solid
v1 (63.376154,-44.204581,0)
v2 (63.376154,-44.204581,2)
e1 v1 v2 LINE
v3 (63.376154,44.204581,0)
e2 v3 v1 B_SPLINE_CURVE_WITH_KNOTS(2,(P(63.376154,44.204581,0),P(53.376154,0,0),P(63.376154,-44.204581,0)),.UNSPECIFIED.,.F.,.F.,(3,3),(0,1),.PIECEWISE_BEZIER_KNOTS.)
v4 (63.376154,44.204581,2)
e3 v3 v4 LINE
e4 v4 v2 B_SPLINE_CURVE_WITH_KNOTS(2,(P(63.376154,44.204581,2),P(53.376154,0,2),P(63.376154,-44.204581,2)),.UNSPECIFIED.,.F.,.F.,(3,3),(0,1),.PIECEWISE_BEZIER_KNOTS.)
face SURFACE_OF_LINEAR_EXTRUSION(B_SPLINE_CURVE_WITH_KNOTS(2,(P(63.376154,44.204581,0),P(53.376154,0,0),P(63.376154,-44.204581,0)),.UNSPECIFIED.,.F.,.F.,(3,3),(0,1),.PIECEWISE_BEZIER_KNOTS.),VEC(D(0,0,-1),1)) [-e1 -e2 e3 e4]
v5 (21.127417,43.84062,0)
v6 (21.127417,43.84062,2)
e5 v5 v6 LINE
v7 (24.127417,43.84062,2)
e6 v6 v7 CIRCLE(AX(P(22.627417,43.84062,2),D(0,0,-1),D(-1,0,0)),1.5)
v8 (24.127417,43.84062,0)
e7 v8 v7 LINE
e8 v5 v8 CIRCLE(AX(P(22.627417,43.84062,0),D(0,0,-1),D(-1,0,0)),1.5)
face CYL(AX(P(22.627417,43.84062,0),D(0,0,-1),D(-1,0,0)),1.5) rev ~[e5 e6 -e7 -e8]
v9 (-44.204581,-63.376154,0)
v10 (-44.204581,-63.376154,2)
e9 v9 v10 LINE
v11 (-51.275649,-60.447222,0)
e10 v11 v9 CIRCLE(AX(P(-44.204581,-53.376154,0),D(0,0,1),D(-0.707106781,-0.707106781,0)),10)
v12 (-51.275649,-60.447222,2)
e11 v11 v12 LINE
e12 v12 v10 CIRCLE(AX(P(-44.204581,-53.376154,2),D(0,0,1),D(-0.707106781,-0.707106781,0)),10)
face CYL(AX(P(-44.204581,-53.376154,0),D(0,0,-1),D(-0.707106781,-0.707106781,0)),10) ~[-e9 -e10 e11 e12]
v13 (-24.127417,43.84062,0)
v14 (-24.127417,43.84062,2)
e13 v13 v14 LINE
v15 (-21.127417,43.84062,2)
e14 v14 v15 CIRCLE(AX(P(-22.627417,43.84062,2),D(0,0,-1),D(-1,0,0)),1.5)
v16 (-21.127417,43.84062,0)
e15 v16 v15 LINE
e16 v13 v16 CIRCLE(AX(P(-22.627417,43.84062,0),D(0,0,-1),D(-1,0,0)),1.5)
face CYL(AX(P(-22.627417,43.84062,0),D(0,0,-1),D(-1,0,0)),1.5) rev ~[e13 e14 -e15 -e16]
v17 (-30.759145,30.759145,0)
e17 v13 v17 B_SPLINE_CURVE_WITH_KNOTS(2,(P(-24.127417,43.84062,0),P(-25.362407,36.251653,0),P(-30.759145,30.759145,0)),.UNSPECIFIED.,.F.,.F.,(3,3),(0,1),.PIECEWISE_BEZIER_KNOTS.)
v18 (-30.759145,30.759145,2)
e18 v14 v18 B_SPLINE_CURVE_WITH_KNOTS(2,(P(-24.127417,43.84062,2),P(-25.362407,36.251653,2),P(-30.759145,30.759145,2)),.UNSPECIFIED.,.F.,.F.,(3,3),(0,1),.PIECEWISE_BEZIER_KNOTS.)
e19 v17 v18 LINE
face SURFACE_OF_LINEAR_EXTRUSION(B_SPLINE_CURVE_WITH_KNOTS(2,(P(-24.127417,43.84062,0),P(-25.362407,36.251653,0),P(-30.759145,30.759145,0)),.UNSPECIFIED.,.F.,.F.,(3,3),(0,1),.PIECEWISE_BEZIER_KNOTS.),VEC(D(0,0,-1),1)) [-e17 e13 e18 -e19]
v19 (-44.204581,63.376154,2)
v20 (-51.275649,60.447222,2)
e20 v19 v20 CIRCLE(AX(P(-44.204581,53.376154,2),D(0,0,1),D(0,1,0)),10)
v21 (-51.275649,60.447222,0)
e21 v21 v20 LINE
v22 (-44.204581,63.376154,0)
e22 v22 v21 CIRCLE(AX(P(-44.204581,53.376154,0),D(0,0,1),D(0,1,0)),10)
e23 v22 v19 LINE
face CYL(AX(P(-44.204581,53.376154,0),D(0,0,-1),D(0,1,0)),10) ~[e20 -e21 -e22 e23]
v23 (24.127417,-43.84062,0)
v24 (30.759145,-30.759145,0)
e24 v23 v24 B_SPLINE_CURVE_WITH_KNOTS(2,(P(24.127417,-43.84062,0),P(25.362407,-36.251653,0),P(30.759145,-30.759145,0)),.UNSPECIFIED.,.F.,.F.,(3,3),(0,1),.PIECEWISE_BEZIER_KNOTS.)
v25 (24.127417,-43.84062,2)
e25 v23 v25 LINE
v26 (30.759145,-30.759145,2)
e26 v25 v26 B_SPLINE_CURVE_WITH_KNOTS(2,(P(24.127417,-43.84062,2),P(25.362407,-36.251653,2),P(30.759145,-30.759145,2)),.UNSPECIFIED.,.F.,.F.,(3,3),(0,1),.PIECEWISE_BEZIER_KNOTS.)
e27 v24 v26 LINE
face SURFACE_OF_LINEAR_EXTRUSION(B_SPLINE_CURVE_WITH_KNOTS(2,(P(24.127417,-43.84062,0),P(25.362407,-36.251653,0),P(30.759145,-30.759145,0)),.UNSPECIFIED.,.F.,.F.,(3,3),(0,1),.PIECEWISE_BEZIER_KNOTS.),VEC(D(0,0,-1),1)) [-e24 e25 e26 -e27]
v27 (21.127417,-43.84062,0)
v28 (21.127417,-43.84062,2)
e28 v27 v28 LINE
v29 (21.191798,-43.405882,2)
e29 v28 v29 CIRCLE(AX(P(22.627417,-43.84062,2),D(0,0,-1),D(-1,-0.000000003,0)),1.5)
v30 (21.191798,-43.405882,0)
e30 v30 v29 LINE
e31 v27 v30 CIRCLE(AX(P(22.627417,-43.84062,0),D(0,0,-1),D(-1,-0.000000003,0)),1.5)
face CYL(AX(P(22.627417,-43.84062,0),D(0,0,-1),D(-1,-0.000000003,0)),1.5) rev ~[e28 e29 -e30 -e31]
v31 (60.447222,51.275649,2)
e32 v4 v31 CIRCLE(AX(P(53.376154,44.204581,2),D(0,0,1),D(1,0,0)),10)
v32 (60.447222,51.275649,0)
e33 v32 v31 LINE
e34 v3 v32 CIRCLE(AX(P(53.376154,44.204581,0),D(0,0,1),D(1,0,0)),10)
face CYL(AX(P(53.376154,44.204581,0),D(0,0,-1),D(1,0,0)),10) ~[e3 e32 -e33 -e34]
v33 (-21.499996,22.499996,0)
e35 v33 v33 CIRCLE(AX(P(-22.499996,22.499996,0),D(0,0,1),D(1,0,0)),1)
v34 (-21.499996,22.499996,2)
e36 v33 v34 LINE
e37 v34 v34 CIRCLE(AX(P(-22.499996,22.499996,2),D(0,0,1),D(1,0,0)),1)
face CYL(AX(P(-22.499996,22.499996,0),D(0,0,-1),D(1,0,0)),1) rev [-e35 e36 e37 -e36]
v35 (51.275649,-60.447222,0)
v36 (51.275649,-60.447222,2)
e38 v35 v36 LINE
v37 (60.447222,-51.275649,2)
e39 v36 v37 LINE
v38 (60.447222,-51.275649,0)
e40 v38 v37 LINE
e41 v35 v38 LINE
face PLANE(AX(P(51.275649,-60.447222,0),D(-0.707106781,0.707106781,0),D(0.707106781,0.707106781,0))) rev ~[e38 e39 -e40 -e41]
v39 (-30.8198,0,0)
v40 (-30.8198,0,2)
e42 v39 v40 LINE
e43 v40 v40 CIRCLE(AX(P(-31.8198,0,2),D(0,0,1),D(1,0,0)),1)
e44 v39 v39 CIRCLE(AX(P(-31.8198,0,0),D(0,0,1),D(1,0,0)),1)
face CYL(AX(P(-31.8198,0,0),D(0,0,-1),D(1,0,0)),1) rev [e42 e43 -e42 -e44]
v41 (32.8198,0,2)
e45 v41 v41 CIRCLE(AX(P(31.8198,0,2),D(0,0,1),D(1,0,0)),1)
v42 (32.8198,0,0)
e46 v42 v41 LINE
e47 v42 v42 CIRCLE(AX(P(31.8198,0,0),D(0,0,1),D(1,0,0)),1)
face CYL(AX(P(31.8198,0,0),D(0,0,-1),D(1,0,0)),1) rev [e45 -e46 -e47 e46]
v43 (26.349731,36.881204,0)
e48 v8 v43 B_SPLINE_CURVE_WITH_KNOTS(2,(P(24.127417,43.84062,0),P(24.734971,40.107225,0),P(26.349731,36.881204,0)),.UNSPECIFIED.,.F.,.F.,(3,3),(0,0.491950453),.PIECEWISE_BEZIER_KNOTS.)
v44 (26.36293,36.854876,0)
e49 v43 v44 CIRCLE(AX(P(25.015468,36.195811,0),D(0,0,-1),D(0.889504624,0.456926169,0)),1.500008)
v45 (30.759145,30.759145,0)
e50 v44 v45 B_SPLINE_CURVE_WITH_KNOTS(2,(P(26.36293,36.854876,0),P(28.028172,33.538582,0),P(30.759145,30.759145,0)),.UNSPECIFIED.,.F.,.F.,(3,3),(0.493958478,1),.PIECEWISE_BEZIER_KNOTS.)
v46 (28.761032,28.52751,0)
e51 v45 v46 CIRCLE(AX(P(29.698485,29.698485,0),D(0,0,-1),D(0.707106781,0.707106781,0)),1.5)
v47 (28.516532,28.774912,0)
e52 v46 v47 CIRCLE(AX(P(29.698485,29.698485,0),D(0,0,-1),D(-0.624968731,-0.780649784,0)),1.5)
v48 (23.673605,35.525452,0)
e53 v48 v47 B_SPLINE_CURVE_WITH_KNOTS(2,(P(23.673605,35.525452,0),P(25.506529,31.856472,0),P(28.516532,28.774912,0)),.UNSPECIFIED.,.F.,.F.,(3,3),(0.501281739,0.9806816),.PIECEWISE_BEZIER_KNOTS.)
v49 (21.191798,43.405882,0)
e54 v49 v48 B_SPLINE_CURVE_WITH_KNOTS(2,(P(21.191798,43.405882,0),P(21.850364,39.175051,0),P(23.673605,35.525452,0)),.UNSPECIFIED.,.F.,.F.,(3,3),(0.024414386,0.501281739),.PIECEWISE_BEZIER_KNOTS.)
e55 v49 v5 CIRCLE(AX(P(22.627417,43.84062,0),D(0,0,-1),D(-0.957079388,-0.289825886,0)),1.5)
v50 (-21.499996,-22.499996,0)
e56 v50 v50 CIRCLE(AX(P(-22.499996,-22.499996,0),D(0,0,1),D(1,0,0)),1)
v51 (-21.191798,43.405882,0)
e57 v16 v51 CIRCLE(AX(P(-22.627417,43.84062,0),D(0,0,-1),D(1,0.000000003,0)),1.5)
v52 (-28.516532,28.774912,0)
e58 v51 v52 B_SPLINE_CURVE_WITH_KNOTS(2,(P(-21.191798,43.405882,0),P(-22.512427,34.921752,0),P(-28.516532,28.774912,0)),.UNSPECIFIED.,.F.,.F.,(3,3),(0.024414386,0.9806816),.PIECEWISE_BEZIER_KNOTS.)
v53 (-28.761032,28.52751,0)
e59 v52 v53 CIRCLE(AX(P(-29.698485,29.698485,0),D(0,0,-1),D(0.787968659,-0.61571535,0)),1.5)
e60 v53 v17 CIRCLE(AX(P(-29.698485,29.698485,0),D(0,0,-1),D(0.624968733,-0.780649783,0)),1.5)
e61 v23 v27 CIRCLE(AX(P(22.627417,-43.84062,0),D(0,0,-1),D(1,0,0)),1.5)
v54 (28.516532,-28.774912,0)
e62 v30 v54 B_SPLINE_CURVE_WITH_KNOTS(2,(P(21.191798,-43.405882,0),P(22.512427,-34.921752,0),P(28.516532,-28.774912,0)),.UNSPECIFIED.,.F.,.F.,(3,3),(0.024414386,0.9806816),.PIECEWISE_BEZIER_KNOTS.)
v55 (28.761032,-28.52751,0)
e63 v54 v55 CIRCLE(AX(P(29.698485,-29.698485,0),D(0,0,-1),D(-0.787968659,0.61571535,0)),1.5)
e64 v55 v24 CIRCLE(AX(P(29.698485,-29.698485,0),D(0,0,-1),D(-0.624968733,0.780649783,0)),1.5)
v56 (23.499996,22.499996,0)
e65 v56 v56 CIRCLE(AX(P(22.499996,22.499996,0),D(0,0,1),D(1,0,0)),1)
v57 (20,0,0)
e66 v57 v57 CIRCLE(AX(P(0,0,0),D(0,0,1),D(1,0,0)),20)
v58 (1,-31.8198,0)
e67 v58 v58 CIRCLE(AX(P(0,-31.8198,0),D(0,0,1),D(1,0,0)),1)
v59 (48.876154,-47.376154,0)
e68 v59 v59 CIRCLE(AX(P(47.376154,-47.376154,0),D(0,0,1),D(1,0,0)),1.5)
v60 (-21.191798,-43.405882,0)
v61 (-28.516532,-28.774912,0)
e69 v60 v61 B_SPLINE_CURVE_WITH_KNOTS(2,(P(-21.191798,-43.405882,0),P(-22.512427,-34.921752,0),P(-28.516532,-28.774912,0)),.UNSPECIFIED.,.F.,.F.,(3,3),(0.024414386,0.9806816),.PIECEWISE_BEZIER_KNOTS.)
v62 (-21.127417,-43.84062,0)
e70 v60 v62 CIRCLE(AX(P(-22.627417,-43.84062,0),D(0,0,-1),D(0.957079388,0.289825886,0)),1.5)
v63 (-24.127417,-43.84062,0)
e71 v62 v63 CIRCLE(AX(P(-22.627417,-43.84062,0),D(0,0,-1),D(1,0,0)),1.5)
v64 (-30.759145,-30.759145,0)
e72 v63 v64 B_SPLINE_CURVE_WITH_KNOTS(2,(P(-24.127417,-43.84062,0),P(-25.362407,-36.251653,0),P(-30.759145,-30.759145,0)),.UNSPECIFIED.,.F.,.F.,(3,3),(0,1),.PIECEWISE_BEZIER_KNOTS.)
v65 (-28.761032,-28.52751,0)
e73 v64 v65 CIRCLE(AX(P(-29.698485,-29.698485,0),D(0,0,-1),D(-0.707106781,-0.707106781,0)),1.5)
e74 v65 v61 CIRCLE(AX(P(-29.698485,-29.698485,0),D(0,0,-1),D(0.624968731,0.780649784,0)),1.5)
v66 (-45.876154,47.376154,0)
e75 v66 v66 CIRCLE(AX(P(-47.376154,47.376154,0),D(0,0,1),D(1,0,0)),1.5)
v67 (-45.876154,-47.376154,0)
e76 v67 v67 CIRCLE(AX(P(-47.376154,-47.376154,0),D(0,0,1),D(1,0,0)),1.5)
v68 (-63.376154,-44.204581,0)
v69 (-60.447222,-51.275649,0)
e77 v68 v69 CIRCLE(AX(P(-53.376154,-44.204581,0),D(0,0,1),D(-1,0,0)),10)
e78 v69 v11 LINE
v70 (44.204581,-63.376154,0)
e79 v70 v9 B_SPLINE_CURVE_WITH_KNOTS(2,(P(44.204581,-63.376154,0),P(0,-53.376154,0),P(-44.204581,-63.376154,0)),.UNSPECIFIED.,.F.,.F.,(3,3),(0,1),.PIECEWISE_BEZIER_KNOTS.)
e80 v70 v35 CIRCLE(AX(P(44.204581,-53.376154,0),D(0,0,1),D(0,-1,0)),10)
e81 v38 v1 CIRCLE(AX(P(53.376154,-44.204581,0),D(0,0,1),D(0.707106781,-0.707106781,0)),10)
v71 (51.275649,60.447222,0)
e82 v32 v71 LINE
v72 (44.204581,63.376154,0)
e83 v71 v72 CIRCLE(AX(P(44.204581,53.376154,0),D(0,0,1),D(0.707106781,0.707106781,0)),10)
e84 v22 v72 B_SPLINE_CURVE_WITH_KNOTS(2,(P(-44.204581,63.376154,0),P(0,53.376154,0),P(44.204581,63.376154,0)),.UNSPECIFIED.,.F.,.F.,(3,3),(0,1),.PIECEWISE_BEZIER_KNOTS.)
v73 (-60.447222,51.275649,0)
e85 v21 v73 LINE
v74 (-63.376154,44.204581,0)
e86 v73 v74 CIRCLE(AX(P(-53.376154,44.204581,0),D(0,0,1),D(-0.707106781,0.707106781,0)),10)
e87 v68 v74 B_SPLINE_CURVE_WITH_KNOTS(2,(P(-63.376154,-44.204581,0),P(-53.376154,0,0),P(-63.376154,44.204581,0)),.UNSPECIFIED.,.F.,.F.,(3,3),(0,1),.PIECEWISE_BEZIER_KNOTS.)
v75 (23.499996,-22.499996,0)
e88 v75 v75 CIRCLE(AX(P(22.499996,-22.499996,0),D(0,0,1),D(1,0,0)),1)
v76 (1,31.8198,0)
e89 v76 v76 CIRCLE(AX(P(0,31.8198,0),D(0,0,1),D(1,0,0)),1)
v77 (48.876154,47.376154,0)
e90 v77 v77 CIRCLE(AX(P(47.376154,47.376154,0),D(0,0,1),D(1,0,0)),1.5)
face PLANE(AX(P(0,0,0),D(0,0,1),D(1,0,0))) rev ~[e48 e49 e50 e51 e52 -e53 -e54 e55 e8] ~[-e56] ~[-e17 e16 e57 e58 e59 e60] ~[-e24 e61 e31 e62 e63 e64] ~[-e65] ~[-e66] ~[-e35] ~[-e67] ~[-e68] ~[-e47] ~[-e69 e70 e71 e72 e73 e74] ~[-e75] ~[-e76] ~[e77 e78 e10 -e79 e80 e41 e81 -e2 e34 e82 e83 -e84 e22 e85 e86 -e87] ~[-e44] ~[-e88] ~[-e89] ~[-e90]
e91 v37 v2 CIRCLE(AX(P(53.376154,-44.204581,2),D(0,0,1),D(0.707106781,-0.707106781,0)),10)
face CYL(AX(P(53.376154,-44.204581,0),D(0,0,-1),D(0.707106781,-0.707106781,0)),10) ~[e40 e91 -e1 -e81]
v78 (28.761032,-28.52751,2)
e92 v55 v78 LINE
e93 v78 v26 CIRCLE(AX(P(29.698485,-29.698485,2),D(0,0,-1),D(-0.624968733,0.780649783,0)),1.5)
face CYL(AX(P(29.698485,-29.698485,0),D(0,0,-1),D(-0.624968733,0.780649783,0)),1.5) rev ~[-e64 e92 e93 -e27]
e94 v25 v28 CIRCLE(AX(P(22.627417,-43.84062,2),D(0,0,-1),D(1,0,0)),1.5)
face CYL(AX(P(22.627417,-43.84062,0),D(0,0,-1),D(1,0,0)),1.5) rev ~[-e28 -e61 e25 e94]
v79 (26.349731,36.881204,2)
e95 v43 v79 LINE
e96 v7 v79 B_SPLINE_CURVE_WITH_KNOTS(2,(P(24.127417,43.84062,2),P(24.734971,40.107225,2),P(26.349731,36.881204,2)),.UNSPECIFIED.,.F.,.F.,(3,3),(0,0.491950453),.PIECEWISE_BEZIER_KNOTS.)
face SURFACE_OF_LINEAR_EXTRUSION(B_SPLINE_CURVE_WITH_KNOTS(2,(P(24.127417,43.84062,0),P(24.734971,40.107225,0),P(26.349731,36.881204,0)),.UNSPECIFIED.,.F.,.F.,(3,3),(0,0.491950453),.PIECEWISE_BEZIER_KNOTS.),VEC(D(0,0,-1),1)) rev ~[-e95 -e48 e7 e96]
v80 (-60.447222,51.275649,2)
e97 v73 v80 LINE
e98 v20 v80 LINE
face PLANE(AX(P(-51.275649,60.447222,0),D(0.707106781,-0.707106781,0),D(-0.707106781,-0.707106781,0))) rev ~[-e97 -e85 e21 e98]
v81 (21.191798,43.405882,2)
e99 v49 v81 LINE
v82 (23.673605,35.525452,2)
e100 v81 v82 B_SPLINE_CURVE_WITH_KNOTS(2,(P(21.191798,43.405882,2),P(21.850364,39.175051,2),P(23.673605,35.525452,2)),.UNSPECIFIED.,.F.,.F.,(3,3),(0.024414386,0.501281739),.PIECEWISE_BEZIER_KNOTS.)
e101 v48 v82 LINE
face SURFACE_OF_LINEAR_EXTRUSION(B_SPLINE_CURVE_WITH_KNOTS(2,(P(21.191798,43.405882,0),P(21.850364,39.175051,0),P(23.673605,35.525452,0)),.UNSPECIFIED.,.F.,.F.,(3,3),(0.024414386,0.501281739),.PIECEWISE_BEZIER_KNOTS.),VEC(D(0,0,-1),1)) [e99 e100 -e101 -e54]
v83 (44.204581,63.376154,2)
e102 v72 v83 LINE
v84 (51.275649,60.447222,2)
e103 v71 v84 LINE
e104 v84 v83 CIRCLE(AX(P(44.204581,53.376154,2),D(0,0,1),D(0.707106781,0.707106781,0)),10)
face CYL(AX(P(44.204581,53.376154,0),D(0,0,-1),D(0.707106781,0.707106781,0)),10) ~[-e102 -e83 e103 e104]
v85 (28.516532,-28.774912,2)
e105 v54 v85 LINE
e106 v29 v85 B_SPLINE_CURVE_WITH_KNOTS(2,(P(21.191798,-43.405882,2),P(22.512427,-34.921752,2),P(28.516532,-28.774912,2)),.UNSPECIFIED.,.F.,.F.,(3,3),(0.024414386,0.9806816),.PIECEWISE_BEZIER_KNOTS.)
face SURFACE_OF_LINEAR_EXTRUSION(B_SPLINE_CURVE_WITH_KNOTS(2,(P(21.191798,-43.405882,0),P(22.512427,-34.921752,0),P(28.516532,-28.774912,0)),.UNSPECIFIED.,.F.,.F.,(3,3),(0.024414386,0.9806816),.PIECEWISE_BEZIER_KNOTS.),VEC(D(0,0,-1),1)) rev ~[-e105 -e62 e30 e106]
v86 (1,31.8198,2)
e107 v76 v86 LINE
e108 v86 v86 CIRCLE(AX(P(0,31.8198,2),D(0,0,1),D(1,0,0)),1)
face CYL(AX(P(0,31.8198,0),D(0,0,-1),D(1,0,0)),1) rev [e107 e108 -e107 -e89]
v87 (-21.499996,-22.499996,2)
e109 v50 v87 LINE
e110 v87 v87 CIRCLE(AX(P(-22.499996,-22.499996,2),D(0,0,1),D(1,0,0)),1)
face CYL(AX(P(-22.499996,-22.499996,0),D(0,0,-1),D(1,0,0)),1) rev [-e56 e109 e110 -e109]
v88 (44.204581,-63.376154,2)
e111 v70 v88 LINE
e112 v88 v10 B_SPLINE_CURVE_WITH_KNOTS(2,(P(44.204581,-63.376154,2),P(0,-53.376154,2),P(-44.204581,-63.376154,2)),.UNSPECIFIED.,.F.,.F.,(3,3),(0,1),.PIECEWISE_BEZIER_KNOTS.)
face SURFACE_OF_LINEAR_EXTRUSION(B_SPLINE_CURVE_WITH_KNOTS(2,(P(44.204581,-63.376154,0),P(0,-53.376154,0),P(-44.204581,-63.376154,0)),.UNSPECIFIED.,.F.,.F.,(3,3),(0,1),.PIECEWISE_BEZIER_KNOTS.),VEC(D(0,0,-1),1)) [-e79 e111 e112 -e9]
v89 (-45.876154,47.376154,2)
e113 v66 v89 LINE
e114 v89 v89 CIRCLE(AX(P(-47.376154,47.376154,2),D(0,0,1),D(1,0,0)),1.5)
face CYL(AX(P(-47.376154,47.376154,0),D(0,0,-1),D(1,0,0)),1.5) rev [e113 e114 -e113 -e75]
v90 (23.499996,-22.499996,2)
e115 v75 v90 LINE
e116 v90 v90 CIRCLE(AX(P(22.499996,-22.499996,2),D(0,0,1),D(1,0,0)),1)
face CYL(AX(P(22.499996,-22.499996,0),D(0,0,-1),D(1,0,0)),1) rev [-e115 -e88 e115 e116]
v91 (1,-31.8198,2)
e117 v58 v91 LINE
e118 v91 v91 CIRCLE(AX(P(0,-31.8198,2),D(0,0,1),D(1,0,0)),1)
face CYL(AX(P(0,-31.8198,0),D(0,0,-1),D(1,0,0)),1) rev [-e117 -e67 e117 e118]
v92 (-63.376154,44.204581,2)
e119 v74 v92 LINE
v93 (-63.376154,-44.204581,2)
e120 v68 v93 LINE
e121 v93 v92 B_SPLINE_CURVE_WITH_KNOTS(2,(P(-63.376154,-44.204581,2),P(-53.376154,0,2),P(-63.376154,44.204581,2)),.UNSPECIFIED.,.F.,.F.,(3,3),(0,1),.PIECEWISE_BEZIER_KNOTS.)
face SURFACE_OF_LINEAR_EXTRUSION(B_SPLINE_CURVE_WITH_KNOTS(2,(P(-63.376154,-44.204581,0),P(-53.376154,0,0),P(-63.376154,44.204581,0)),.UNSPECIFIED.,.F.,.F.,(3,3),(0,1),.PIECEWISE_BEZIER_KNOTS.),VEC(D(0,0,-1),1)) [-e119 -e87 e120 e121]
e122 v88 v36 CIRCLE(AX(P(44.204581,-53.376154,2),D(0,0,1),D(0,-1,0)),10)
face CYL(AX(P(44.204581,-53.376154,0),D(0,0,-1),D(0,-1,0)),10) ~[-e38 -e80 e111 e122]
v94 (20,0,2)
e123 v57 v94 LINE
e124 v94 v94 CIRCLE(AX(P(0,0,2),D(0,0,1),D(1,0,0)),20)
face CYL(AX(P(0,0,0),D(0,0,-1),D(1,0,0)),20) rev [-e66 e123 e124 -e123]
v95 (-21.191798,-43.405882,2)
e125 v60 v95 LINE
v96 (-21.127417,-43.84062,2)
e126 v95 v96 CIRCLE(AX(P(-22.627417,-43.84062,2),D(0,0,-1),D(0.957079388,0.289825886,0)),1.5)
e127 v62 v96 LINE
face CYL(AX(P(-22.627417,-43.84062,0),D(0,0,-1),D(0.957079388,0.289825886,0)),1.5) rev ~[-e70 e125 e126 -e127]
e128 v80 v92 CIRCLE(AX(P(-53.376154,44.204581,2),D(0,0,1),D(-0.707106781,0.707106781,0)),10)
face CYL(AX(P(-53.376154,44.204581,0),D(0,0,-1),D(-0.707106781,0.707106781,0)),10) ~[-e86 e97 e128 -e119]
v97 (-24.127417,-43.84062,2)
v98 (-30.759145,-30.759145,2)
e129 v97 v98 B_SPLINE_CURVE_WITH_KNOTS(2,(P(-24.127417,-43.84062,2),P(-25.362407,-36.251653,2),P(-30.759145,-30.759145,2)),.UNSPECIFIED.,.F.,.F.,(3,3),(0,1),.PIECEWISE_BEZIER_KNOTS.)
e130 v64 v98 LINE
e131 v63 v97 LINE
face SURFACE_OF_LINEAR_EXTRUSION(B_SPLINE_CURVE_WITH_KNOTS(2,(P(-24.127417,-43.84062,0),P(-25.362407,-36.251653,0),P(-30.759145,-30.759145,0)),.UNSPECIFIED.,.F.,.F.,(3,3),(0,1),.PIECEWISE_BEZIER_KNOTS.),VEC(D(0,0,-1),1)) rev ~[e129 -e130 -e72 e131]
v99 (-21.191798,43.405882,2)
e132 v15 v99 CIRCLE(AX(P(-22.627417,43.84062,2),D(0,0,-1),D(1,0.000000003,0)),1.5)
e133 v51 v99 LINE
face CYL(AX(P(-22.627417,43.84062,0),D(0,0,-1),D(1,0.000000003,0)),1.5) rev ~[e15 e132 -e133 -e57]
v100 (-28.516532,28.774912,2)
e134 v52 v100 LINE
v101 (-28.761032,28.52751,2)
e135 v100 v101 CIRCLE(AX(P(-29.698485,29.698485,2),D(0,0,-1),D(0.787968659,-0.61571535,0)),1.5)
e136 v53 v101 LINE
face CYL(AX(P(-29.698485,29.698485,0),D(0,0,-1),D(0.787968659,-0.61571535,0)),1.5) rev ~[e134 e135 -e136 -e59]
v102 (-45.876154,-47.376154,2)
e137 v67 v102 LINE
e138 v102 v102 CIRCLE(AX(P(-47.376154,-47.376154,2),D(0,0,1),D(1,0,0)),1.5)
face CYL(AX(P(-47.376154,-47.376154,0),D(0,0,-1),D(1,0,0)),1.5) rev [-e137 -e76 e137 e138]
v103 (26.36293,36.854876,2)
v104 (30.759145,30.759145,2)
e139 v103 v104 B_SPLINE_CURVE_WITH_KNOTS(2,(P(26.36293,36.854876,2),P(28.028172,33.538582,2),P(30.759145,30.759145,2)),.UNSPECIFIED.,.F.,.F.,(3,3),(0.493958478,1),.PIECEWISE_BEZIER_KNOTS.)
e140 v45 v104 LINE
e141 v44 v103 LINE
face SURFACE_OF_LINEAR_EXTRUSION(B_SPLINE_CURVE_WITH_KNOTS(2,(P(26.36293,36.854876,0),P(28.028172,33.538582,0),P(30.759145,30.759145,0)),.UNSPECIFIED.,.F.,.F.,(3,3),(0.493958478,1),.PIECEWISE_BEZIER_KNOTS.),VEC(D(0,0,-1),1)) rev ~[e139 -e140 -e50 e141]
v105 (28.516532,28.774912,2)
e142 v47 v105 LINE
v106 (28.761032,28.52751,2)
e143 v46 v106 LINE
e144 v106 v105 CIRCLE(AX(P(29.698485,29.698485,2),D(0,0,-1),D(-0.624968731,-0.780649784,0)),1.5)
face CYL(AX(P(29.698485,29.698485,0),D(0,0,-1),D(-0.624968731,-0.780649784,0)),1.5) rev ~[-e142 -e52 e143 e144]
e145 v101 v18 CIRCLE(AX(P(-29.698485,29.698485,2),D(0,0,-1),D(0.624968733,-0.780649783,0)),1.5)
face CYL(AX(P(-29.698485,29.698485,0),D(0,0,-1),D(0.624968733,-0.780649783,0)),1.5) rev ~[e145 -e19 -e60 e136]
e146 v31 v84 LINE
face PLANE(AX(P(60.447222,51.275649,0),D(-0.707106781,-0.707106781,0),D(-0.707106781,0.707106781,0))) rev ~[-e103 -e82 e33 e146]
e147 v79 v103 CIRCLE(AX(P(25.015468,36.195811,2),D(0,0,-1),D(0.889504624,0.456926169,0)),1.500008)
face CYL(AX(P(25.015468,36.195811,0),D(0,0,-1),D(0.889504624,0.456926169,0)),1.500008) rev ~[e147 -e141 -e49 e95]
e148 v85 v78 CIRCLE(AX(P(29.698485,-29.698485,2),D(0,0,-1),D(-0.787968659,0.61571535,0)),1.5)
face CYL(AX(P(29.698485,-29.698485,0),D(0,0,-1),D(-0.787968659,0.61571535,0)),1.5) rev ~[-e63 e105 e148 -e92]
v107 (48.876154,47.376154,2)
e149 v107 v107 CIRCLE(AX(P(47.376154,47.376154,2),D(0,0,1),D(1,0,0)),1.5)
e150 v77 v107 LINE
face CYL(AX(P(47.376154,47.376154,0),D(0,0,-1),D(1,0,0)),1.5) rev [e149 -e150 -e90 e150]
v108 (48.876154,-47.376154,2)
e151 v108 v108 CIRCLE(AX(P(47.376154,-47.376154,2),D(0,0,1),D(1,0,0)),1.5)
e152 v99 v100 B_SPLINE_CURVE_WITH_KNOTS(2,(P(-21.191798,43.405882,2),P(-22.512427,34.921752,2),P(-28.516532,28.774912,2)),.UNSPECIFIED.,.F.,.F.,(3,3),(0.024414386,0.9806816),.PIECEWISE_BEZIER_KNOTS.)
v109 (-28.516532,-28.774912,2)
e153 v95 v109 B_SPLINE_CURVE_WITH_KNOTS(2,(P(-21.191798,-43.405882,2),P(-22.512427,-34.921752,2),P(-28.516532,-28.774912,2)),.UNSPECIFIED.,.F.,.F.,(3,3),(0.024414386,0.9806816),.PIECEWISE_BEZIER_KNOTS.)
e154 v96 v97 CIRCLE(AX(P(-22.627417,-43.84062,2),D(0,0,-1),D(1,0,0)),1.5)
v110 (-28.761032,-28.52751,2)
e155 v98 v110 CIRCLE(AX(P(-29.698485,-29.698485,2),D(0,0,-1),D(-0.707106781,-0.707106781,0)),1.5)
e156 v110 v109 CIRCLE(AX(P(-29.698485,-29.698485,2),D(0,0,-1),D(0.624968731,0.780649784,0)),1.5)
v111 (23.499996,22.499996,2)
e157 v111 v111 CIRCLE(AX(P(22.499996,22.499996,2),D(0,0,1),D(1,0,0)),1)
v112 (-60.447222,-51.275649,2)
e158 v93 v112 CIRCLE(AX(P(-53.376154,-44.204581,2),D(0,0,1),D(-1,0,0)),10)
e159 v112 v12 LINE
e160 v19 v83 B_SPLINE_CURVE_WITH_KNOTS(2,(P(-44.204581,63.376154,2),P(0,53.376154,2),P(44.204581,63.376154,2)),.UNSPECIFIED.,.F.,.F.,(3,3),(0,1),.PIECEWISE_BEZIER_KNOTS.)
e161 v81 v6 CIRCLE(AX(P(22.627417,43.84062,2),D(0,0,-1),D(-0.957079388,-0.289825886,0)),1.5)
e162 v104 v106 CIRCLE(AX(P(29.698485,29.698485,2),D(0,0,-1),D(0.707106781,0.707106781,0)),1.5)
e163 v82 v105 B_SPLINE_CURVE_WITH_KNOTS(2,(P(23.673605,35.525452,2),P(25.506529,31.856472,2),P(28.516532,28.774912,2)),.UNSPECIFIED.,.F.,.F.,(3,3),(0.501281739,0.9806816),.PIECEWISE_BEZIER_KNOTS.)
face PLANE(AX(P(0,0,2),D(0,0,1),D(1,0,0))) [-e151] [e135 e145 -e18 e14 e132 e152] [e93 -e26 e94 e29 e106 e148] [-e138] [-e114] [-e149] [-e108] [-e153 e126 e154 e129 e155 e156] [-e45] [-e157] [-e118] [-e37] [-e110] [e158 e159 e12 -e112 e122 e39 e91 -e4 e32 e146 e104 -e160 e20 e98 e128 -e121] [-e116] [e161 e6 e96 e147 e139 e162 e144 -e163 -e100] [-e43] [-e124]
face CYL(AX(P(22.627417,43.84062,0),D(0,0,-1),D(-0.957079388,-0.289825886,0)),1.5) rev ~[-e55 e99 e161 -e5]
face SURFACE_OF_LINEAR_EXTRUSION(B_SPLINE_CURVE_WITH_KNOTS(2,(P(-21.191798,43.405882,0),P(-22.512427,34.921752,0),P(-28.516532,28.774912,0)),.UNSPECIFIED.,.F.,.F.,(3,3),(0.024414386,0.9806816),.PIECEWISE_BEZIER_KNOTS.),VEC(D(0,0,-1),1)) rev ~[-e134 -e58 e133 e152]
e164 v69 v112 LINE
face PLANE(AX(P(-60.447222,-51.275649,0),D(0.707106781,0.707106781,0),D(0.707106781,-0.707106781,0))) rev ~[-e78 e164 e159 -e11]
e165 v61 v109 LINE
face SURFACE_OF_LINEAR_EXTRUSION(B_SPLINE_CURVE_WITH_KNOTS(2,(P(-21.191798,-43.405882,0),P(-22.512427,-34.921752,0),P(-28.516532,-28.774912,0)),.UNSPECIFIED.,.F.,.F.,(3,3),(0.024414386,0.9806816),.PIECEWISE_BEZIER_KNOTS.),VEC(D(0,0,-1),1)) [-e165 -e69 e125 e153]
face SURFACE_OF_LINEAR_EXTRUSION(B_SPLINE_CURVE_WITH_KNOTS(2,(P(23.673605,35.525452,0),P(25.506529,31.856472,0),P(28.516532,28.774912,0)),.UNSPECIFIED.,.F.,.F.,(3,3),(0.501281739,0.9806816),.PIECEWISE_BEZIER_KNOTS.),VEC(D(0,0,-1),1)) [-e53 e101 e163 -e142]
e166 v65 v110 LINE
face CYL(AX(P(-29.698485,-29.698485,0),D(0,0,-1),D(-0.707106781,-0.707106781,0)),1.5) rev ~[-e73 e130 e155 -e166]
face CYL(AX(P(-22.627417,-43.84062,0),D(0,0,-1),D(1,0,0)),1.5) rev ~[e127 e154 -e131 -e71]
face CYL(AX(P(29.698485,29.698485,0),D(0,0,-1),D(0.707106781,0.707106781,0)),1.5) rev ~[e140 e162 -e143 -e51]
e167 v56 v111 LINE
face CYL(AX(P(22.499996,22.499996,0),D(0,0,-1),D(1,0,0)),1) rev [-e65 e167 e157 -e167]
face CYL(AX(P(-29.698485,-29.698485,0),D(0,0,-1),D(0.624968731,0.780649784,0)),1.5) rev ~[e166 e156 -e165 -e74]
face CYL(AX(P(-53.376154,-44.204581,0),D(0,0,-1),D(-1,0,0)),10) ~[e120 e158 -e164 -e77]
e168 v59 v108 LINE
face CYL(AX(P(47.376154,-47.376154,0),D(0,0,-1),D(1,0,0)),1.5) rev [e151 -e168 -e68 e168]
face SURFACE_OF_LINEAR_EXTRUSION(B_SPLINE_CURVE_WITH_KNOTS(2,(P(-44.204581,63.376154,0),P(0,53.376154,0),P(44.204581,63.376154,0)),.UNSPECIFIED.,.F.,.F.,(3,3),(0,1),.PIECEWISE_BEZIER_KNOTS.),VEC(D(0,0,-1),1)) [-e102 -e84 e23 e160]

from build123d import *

# Parameters (mm, degrees)
SKETCH1_R           = 1.5
SKETCH1_R_2         = 1
SKETCH1_R_3         = 20
BOSS_EXTRUDE1_DEPTH = 2


with BuildPart() as part:
    # Sketch1 → Boss-Extrude1 (new body)
    with BuildSketch(Plane.XY):
        with BuildLine():
            Line((60.447222151, 51.275649276), (51.275649276, 60.447222151))
            ThreePointArc((51.275649276, 60.447222151), (48.031415788, 62.614949665), (44.204581464, 63.376154339))
            add(Edge.make_bspline(
                [(-44.204581464, 63.376154339), (0, 53.376154339), (44.204581464, 63.376154339)],
                knots=[0, 0, 0, 1, 1, 1], degree=2))
            ThreePointArc((-44.204581464, 63.376154339), (-48.031415788, 62.614949665), (-51.275649276, 60.447222151))
            Line((-51.275649276, 60.447222151), (-60.447222151, 51.275649276))
            ThreePointArc((-60.447222151, 51.275649276), (-62.614949665, 48.031415788), (-63.376154339, 44.204581464))
            add(Edge.make_bspline(
                [(-63.376154339, -44.204581464), (-53.376154339, 0), (-63.376154339, 44.204581464)],
                knots=[0, 0, 0, 1, 1, 1], degree=2))
            ThreePointArc((-63.376154339, -44.204581464), (-62.614949665, -48.031415788), (-60.447222151, -51.275649276))
            Line((-60.447222151, -51.275649276), (-51.275649276, -60.447222151))
            ThreePointArc((-51.275649276, -60.447222151), (-48.031415788, -62.614949665), (-44.204581464, -63.376154339))
            add(Edge.make_bspline(
                [(44.204581464, -63.376154339), (0, -53.376154339), (-44.204581464, -63.376154339)],
                knots=[0, 0, 0, 1, 1, 1], degree=2))
            ThreePointArc((44.204581464, -63.376154339), (48.031415788, -62.614949665), (51.275649276, -60.447222151))
            Line((51.275649276, -60.447222151), (60.447222151, -51.275649276))
            ThreePointArc((60.447222151, -51.275649276), (62.614949665, -48.031415788), (63.376154339, -44.204581464))
            add(Edge.make_bspline(
                [(63.376154339, 44.204581464), (53.376154339, 0), (63.376154339, -44.204581464)],
                knots=[0, 0, 0, 1, 1, 1], degree=2))
            ThreePointArc((63.376154339, 44.204581464), (62.614949665, 48.031415788), (60.447222151, 51.275649276))
        make_face()
        with Locations((-47.376154339, -47.376154339)):
            Circle(SKETCH1_R, mode=Mode.SUBTRACT)
        with BuildLine():
            ThreePointArc((-28.761031711, -28.527510136), (-28.631586297, -28.644099888), (-28.51653182, -28.774911786))
            add(Edge.make_bspline(
                [(-21.191797917, -43.405881611), (-22.512426592, -34.921752495), (-28.516531822, -28.774911788)],
                knots=[0.024414386, 0.024414386, 0.024414386, 0.9806816, 0.9806816, 0.9806816], degree=2))
            ThreePointArc((-21.191797914, -43.40588161), (-21.143599518, -43.62088039), (-21.127416998, -43.840620434))
            ThreePointArc((-21.127416998, -43.840620434), (-22.627416998, -45.340620434), (-24.127416998, -43.840620434))
            add(Edge.make_bspline(
                [(-24.127416998, -43.840620434), (-25.362407372, -36.251653189), (-30.759144982, -30.759144982)],
                knots=[0, 0, 0, 1, 1, 1], degree=2))
            ThreePointArc((-30.759144982, -30.759144982), (-30.816001484, -28.697906735), (-28.761031711, -28.527510136))
        make_face(mode=Mode.SUBTRACT)
        with Locations((-31.8198, 0)):
            Circle(SKETCH1_R_2, mode=Mode.SUBTRACT)
        with Locations((-22.499996356, -22.499996356)):
            Circle(SKETCH1_R_2, mode=Mode.SUBTRACT)
        with Locations((0, -31.8198)):
            Circle(SKETCH1_R_2, mode=Mode.SUBTRACT)
        with BuildLine():
            add(Edge.make_bspline(
                [(24.127416998, -43.840620434), (25.362407372, -36.251653189), (30.759144982, -30.759144982)],
                knots=[0, 0, 0, 1, 1, 1], degree=2))
            ThreePointArc((24.127416998, -43.840620434), (22.627416998, -45.340620434), (21.127416998, -43.840620434))
            ThreePointArc((21.127416998, -43.840620434), (21.143599518, -43.62088039), (21.191797914, -43.40588161))
            add(Edge.make_bspline(
                [(21.191797917, -43.405881611), (22.512426592, -34.921752495), (28.516531822, -28.774911788)],
                knots=[0.024414386, 0.024414386, 0.024414386, 0.9806816, 0.9806816, 0.9806816], degree=2))
            ThreePointArc((28.51653182, -28.774911786), (28.631586297, -28.644099888), (28.761031711, -28.527510136))
            ThreePointArc((28.761031711, -28.527510136), (30.816001484, -28.697906735), (30.759144982, -30.759144982))
        make_face(mode=Mode.SUBTRACT)
        with Locations((47.376154339, -47.376154339)):
            Circle(SKETCH1_R, mode=Mode.SUBTRACT)
        with Locations((22.499996356, -22.499996356)):
            Circle(SKETCH1_R_2, mode=Mode.SUBTRACT)
        Circle(SKETCH1_R_3, mode=Mode.SUBTRACT)
        with Locations((31.8198, 0)):
            Circle(SKETCH1_R_2, mode=Mode.SUBTRACT)
        with Locations((-22.499996356, 22.499996356)):
            Circle(SKETCH1_R_2, mode=Mode.SUBTRACT)
        with Locations((-47.376154339, 47.376154339)):
            Circle(SKETCH1_R, mode=Mode.SUBTRACT)
        with BuildLine():
            add(Edge.make_bspline(
                [(-24.127416998, 43.840620434), (-25.362407372, 36.251653189), (-30.759144982, 30.759144982)],
                knots=[0, 0, 0, 1, 1, 1], degree=2))
            ThreePointArc((-24.127416998, 43.840620434), (-22.627416998, 45.340620434), (-21.127416998, 43.840620434))
            ThreePointArc((-21.127416998, 43.840620434), (-21.143599518, 43.62088039), (-21.191797914, 43.40588161))
            add(Edge.make_bspline(
                [(-21.191797917, 43.405881611), (-22.512426592, 34.921752495), (-28.516531822, 28.774911788)],
                knots=[0.024414386, 0.024414386, 0.024414386, 0.9806816, 0.9806816, 0.9806816], degree=2))
            ThreePointArc((-28.51653182, 28.774911786), (-28.631586297, 28.644099888), (-28.761031711, 28.527510136))
            ThreePointArc((-28.761031711, 28.527510136), (-30.816001484, 28.697906735), (-30.759144982, 30.759144982))
        make_face(mode=Mode.SUBTRACT)
        with Locations((22.499996356, 22.499996356)):
            Circle(SKETCH1_R_2, mode=Mode.SUBTRACT)
        with Locations((0, 31.8198)):
            Circle(SKETCH1_R_2, mode=Mode.SUBTRACT)
        with BuildLine():
            ThreePointArc((28.761031711, 28.527510136), (28.631586297, 28.644099888), (28.51653182, 28.774911786))
            add(Edge.make_bspline(
                [(23.673604803, 35.525452482), (25.506528794, 31.856471559), (28.516531822, 28.774911788)],
                knots=[0.501281739, 0.501281739, 0.501281739, 0.9806816, 0.9806816, 0.9806816], degree=2))
            add(Edge.make_bspline(
                [(21.191797917, 43.405881611), (21.850363527, 39.175051421), (23.673604803, 35.525452482)],
                knots=[0.024414386, 0.024414386, 0.024414386, 0.501281739, 0.501281739, 0.501281739], degree=2))
            ThreePointArc((21.191797914, 43.40588161), (21.143599518, 43.62088039), (21.127416998, 43.840620434))
            ThreePointArc((21.127416998, 43.840620434), (22.627416998, 45.340620434), (24.127416998, 43.840620434))
            add(Edge.make_bspline(
                [(24.127416998, 43.840620434), (24.734971072, 40.107224563), (26.349731434, 36.881203745)],
                knots=[0, 0, 0, 0.491950453, 0.491950453, 0.491950453], degree=2))
            ThreePointArc((26.349731434, 36.881203745), (26.356395509, 36.86807251), (26.362930356, 36.854876488))
            add(Edge.make_bspline(
                [(26.362930356, 36.854876488), (28.028171669, 33.538582193), (30.759144982, 30.759144982)],
                knots=[0.493958478, 0.493958478, 0.493958478, 1, 1, 1], degree=2))
            ThreePointArc((30.759144982, 30.759144982), (30.816001484, 28.697906735), (28.761031711, 28.527510136))
        make_face(mode=Mode.SUBTRACT)
        with Locations((47.376154339, 47.376154339)):
            Circle(SKETCH1_R, mode=Mode.SUBTRACT)
    extrude(amount=BOSS_EXTRUDE1_DEPTH)


solid = part.part
